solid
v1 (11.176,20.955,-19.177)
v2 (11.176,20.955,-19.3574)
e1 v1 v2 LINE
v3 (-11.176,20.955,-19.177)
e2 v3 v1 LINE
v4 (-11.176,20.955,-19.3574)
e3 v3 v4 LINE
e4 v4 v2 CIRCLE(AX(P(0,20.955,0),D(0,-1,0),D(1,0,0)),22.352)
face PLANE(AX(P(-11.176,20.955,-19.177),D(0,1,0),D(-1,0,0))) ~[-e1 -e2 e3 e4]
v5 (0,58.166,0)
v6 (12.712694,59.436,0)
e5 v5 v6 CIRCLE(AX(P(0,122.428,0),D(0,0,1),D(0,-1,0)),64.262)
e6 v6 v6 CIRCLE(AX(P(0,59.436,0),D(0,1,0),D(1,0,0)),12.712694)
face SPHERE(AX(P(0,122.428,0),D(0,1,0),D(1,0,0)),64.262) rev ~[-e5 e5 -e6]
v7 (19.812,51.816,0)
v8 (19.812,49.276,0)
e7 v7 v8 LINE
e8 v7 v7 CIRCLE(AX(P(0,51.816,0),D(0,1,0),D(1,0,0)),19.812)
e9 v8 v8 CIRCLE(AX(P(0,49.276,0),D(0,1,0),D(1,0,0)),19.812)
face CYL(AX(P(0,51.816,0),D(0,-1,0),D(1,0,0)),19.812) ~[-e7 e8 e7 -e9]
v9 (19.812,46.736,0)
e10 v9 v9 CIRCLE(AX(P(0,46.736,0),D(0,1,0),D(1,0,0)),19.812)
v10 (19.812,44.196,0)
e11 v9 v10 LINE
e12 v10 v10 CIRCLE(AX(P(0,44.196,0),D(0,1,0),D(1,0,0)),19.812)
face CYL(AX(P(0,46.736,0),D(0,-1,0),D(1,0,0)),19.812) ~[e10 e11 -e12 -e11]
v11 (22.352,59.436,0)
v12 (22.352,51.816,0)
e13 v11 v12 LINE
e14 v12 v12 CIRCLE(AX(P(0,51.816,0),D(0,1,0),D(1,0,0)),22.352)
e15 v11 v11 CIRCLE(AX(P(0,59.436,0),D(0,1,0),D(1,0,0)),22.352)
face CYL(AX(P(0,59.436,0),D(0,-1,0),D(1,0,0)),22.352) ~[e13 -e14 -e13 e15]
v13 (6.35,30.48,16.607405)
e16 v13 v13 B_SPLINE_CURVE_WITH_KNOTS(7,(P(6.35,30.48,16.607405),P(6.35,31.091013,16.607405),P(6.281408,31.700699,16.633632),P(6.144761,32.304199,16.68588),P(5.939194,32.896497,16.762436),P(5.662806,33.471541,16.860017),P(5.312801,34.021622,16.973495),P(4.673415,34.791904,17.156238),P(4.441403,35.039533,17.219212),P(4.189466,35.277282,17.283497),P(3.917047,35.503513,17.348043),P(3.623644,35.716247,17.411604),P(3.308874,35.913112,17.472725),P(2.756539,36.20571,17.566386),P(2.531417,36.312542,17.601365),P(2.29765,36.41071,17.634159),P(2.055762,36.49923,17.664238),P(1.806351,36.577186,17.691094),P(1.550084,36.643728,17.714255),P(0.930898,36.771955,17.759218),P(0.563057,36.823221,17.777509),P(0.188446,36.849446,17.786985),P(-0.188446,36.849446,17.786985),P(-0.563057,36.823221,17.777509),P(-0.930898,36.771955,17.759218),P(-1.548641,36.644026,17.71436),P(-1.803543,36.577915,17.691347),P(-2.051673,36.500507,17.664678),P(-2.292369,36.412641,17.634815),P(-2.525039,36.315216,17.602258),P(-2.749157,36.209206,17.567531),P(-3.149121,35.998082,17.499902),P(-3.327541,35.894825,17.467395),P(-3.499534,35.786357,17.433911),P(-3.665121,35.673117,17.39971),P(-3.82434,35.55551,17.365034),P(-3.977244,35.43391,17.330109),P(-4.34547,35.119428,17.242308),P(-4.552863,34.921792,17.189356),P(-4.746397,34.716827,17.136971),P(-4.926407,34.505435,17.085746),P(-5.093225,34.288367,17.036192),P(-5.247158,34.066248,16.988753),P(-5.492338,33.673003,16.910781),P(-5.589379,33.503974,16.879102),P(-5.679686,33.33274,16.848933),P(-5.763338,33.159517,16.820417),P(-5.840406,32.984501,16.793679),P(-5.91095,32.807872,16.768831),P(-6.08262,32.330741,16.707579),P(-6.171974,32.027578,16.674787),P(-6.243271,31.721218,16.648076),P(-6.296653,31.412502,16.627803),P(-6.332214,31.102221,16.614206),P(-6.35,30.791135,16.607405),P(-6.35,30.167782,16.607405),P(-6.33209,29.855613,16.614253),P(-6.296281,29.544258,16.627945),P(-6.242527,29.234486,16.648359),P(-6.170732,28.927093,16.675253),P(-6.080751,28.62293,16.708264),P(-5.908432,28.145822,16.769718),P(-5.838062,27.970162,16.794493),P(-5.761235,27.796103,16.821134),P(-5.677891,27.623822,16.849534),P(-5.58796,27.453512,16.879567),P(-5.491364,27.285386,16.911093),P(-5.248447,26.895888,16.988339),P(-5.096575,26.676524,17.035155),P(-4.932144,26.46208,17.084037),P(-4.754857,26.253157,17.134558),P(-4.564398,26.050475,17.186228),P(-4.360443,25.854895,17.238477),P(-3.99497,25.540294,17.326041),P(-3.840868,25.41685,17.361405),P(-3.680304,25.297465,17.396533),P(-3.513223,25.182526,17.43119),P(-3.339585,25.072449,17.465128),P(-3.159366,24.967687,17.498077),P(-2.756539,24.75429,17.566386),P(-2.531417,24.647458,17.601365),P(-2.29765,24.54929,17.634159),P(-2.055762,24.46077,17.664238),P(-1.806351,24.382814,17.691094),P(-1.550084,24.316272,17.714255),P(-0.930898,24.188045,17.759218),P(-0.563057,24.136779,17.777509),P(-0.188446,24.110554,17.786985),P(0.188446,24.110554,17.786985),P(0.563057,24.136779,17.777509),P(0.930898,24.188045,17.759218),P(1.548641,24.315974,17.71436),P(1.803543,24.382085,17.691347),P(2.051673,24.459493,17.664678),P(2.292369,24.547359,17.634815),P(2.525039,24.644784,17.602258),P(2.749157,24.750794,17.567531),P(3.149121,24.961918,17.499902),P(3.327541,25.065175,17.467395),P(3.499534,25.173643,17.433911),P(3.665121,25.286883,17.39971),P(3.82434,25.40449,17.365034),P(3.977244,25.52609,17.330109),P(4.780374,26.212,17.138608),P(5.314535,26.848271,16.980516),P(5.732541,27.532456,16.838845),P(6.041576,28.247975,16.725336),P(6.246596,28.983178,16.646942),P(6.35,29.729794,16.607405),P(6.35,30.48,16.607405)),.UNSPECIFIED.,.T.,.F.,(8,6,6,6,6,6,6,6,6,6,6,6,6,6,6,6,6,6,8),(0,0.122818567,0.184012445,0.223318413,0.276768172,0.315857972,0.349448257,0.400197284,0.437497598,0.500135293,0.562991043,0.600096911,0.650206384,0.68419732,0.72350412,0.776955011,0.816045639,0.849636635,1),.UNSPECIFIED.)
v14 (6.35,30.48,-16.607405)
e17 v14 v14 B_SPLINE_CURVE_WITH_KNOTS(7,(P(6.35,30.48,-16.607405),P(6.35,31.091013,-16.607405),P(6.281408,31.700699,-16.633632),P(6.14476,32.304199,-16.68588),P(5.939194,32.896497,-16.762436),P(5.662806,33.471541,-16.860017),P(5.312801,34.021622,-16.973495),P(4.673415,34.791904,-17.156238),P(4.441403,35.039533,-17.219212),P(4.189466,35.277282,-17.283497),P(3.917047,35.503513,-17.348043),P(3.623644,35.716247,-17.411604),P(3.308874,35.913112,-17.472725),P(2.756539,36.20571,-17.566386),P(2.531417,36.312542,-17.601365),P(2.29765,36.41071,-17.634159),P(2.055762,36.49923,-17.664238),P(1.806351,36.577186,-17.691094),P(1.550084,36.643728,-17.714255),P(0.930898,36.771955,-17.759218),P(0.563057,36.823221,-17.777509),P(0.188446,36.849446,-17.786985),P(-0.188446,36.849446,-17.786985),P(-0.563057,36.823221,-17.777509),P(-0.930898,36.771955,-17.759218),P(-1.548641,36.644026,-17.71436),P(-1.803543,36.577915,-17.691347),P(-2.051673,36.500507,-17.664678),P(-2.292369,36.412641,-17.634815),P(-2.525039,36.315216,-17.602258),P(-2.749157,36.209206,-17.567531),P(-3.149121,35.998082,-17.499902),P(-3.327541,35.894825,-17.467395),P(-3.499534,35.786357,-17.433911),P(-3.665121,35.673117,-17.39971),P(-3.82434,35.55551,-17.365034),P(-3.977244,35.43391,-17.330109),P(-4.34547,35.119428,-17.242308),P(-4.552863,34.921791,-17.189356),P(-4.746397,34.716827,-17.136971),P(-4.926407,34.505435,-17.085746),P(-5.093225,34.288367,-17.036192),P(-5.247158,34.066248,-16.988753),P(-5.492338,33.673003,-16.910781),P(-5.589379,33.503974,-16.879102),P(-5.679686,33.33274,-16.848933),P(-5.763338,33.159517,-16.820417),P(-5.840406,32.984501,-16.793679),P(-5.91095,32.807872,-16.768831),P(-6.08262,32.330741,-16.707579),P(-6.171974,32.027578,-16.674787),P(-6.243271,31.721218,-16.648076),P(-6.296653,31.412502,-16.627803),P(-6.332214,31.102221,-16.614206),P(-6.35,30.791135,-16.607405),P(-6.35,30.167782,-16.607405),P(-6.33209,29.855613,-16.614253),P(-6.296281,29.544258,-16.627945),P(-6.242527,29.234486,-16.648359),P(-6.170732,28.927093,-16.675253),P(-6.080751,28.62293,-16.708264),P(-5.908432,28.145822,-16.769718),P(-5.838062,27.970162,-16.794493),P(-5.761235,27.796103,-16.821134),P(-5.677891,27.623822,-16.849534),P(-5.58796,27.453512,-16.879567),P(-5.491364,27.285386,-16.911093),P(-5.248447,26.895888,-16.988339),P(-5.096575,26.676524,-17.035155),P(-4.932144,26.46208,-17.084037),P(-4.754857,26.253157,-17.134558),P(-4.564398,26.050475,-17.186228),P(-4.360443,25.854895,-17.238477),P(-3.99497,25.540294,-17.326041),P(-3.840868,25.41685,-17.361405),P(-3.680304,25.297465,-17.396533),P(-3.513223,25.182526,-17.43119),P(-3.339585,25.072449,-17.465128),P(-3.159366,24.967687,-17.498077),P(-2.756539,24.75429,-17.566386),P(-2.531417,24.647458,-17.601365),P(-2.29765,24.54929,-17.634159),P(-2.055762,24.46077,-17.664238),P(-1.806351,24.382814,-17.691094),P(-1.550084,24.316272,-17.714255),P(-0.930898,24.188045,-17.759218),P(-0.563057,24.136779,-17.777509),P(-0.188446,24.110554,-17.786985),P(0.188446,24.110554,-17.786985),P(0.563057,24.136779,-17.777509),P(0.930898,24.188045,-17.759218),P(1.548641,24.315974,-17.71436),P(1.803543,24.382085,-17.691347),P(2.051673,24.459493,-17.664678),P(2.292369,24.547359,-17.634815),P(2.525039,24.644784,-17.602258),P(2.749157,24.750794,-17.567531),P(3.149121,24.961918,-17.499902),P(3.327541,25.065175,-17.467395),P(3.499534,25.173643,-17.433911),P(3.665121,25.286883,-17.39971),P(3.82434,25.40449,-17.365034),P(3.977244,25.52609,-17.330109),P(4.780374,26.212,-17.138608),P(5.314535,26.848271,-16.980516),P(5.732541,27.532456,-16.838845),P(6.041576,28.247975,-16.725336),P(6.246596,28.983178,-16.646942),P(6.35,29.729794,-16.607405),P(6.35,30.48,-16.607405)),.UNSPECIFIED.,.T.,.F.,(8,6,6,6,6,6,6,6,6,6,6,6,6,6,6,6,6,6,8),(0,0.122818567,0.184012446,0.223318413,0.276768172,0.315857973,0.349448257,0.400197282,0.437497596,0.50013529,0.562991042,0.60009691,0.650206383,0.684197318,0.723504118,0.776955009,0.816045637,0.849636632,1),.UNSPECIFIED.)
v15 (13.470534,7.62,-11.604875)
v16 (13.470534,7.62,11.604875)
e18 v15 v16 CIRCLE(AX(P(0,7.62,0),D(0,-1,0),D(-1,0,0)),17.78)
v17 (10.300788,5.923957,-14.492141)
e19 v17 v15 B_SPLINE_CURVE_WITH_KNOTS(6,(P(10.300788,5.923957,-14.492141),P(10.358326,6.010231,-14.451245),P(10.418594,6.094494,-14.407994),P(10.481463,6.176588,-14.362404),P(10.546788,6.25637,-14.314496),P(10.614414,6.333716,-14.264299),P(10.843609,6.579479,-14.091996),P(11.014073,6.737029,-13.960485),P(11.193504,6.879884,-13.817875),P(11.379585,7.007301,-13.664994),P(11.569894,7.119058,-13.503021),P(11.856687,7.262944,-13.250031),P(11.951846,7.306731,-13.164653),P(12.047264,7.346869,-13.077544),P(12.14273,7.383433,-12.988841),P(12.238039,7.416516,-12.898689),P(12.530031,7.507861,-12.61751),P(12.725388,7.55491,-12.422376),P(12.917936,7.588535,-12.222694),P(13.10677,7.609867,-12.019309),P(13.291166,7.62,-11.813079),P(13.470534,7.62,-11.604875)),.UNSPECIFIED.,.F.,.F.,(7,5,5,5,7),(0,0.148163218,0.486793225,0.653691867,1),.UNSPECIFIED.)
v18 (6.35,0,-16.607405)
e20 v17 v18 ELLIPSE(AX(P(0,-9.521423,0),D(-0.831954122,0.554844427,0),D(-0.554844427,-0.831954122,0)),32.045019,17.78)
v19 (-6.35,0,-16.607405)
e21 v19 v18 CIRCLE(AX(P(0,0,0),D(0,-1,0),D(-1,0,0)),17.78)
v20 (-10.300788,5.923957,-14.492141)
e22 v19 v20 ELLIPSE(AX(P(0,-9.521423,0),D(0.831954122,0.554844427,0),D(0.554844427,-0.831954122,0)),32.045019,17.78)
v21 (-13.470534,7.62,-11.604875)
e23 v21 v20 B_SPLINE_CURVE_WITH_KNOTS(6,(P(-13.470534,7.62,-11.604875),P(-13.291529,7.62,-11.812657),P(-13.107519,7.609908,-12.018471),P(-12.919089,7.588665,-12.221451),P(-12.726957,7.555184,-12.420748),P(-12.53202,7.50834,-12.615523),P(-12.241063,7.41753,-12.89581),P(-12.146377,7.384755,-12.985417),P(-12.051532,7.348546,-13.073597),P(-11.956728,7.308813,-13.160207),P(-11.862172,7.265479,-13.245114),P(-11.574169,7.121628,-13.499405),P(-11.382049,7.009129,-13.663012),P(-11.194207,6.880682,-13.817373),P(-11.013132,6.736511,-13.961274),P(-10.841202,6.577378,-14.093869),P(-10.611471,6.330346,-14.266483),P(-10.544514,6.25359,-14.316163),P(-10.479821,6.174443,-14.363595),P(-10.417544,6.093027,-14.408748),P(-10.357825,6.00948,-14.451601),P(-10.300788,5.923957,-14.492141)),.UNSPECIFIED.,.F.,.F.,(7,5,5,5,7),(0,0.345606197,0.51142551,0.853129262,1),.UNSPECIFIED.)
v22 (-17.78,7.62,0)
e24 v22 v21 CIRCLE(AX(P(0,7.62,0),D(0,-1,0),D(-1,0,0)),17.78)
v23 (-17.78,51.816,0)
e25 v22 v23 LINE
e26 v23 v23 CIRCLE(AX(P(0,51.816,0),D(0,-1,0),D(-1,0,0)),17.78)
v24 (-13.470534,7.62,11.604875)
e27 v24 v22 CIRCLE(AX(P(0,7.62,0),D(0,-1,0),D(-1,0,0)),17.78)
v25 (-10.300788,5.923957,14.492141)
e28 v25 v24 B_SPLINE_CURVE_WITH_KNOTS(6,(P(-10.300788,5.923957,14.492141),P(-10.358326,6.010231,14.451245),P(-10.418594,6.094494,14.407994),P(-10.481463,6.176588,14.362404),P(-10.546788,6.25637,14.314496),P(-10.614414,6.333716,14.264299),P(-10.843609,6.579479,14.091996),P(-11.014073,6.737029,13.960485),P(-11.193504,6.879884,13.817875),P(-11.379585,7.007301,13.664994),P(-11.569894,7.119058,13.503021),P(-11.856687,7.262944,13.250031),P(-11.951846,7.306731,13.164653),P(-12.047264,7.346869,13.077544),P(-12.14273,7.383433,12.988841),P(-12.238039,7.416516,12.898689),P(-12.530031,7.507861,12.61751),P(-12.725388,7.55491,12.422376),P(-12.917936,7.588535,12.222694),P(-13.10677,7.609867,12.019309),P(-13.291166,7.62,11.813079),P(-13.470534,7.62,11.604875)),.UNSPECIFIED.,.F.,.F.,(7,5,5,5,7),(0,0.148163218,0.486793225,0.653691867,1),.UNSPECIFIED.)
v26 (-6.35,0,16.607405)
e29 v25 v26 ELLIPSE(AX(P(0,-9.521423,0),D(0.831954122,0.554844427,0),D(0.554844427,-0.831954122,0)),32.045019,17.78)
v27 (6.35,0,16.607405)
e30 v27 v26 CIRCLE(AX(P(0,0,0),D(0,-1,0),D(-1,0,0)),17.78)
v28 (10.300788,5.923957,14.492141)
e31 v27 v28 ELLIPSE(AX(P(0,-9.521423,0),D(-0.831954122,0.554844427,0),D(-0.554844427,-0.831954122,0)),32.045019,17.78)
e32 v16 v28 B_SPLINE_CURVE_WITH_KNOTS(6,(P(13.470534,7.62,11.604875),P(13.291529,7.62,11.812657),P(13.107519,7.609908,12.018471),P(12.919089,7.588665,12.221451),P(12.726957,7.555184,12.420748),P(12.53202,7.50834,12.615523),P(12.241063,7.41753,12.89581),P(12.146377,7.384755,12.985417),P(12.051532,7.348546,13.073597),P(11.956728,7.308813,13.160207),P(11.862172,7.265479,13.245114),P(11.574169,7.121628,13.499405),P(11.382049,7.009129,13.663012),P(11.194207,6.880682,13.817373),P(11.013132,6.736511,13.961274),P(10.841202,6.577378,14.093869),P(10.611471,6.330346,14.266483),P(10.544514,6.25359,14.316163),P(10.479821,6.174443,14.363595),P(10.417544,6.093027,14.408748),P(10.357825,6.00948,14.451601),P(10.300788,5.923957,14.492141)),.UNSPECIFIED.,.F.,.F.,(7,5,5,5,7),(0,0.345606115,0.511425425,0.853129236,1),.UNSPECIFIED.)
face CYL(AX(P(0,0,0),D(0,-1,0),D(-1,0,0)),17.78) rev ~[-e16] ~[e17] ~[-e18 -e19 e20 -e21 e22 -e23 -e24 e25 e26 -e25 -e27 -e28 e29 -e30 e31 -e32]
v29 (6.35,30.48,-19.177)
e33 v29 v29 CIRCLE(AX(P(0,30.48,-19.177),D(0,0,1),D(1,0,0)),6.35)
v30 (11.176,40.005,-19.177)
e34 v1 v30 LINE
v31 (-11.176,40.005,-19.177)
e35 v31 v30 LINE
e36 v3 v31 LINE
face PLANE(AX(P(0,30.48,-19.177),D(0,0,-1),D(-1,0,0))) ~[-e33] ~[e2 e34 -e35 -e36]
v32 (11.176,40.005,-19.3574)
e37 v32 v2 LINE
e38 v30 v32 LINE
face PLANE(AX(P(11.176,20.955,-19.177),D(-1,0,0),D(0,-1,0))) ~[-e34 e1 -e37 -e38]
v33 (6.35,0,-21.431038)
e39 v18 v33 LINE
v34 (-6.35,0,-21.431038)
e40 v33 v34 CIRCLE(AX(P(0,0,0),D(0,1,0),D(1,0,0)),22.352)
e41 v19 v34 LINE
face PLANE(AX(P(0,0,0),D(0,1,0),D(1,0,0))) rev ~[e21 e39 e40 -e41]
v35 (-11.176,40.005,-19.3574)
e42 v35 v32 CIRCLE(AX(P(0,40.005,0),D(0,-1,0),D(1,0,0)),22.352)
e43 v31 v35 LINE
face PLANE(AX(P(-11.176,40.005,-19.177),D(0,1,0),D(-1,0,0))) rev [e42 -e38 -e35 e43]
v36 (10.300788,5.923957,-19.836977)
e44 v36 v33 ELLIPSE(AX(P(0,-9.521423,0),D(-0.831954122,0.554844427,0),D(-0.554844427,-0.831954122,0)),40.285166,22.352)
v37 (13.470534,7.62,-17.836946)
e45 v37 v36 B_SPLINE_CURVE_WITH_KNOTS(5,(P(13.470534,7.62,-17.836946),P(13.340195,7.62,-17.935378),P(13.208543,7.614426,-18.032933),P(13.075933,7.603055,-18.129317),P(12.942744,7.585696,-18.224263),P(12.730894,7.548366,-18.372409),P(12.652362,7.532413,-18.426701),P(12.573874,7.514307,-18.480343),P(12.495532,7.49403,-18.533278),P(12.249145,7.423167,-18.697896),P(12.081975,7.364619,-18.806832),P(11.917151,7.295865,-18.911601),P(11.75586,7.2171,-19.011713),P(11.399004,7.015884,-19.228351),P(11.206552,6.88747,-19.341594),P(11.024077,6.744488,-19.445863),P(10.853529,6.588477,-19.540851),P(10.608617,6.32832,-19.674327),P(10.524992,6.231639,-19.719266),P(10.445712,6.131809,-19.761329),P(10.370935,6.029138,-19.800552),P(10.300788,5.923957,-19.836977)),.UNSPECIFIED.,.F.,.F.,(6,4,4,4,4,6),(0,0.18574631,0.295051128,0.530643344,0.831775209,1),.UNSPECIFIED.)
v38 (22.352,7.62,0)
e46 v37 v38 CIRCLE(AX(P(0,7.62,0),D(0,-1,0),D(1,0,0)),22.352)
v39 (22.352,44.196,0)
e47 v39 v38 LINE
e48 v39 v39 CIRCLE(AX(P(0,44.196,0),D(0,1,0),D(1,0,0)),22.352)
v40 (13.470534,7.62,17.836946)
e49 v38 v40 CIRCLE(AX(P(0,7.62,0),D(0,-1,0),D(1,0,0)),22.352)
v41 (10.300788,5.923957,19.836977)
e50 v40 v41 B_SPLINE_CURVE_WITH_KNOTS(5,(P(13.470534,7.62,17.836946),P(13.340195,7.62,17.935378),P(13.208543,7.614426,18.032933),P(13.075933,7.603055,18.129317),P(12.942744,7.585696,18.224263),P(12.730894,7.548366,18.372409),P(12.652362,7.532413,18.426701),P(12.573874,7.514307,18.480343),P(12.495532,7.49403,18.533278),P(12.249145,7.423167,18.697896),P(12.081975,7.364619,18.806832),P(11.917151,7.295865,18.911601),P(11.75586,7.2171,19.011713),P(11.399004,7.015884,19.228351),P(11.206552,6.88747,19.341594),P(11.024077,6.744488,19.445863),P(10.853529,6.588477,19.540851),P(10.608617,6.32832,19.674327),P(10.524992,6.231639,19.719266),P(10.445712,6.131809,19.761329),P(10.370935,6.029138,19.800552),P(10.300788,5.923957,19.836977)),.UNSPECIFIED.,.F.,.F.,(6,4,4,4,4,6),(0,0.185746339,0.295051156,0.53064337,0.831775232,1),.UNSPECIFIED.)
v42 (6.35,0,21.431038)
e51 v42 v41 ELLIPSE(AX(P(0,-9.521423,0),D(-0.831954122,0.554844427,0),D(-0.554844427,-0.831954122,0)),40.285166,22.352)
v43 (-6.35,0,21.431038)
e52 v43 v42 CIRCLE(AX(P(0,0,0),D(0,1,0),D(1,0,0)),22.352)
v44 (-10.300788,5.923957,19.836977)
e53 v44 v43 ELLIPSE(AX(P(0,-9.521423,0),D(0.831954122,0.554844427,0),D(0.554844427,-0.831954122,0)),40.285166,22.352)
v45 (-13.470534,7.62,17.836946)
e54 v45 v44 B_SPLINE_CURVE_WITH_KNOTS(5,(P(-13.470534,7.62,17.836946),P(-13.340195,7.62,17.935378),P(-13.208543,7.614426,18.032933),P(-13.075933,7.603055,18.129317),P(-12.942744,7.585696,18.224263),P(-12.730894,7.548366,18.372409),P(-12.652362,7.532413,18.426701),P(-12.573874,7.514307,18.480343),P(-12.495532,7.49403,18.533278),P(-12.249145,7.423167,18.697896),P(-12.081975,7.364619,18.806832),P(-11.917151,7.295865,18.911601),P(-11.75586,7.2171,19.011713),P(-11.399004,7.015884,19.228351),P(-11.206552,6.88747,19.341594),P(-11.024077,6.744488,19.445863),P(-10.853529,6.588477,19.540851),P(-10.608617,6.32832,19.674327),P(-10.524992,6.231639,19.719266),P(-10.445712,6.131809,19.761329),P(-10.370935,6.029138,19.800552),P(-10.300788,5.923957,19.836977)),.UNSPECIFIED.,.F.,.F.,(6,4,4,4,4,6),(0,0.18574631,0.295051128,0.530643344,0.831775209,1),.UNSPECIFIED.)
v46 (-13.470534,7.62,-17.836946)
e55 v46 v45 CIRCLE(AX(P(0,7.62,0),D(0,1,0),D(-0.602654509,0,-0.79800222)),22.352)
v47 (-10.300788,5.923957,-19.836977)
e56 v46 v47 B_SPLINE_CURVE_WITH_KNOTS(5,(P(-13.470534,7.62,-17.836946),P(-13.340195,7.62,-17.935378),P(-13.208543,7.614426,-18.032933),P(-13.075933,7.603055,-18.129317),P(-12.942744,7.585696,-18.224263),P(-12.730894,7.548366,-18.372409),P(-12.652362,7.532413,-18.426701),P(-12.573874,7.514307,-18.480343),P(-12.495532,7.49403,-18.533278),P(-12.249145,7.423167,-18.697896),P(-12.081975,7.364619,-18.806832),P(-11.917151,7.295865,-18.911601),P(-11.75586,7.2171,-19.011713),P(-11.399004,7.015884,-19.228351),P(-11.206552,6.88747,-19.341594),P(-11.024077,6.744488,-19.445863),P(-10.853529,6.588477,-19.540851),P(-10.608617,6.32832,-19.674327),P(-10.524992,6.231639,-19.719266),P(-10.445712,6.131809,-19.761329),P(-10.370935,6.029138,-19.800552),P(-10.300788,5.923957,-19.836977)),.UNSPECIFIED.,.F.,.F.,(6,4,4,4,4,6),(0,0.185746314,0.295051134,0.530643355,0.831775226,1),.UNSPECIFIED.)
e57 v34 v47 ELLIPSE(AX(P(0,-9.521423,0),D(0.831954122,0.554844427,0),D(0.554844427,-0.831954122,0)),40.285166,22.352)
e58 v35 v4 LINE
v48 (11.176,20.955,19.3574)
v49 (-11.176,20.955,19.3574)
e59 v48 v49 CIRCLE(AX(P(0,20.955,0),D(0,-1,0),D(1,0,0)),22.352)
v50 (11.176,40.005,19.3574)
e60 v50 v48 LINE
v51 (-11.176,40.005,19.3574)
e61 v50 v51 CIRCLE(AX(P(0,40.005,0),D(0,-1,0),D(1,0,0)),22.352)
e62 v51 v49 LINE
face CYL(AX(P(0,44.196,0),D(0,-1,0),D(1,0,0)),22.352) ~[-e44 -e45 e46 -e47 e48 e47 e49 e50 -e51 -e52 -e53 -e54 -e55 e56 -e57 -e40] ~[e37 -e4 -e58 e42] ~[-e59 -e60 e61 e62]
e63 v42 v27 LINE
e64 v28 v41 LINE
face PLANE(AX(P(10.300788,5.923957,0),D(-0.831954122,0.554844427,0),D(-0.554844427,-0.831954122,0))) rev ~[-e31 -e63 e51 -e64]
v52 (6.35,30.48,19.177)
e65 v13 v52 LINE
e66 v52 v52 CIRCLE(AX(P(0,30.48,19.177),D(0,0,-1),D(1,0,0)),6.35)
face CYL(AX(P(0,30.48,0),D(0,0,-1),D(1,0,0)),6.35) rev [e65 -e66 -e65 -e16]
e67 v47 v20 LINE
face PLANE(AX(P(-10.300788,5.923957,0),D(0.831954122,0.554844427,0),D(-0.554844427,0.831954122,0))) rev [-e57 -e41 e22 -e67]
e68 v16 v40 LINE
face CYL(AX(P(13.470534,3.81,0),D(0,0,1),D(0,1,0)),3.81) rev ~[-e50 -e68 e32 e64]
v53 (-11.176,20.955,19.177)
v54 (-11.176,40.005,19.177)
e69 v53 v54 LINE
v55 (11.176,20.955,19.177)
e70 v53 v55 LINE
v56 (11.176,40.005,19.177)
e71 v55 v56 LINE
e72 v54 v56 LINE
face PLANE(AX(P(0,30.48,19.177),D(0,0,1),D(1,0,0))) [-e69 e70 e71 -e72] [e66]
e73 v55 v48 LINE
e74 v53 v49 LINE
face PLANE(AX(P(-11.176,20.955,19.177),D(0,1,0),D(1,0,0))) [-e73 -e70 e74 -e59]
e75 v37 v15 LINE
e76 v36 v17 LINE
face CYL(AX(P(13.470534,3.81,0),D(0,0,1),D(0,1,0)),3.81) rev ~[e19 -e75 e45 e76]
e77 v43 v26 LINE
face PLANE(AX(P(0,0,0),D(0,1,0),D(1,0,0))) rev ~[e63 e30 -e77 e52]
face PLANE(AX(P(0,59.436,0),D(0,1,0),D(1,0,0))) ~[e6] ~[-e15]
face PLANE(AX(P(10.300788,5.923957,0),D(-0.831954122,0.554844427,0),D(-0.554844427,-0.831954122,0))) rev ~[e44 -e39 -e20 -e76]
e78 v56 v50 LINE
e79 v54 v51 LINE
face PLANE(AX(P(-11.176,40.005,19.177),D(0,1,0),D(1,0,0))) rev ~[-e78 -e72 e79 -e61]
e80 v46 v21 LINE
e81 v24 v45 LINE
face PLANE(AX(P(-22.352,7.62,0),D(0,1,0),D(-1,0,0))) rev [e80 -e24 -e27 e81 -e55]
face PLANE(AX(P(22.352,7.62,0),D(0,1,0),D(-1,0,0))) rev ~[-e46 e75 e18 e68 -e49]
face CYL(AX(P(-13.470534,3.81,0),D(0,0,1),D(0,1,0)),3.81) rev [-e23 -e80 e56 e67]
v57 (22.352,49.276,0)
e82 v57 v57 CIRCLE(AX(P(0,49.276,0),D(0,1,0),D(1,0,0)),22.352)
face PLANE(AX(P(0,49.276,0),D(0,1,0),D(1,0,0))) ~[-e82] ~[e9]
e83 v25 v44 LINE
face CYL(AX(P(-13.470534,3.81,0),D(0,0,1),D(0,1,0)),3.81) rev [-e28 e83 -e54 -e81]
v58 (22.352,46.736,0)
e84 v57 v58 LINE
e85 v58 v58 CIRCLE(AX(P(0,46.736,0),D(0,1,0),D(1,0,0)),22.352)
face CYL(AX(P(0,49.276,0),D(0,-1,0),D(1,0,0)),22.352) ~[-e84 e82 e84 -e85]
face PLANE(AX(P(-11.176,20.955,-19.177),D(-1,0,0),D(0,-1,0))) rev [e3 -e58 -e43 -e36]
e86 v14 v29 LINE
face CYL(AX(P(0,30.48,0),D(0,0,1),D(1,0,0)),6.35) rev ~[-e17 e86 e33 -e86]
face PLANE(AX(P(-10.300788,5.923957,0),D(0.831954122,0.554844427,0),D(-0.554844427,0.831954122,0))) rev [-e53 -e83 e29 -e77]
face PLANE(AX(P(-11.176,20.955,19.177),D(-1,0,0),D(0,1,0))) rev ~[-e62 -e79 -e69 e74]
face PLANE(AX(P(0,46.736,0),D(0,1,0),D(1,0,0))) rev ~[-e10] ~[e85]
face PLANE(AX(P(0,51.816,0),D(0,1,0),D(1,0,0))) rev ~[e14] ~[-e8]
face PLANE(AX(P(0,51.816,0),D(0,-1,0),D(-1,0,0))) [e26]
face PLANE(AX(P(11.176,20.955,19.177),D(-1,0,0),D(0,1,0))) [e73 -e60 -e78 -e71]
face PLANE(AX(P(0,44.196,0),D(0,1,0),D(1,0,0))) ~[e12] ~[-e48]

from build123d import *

# Parameters (mm, degrees)
SKETCH3_R               = 17.78
CUT_EXTRUDE2_DEPTH      = 51.816
SKETCH4_R               = 6.35
CUT_EXTRUDE3_DEPTH      = 23.352
CUT_EXTRUDE3_DEPTH_BACK = 23.352
CUT_EXTRUDE5_START      = 19.177
SKETCH5_W               = 22.352
SKETCH5_H               = 19.05
CUT_EXTRUDE5_DEPTH      = 4.1750001
CUT_EXTRUDE6_DEPTH      = 23.352


with BuildPart() as part:
    # Sketch1 → Revolve2 (revolve)
    with BuildSketch(Plane.XY):
        with BuildLine():
            Line((0, 0), (0, 58.166))
            ThreePointArc((0, 58.166), (6.387986381, 58.484288237), (12.712693656, 59.436))
            Line((12.712693656, 59.436), (22.352, 59.436))
            Line((22.352, 59.436), (22.352, 51.816))
            Line((22.352, 51.816), (19.812, 51.816))
            Line((19.812, 51.816), (19.812, 49.276))
            Line((19.812, 49.276), (22.352, 49.276))
            Line((22.352, 49.276), (22.352, 46.736))
            Line((22.352, 46.736), (19.812, 46.736))
            Line((19.812, 46.736), (19.812, 44.196))
            Line((19.812, 44.196), (22.352, 44.196))
            Line((22.352, 44.196), (22.352, 0))
            Line((22.352, 0), (0, 0))
        make_face()
    revolve(axis=Axis((0, 0, 0), (0, 1, 0)))

    # Sketch3 → Cut-Extrude2 (cut)
    with BuildSketch(Plane(origin=(0, 0, 0), x_dir=(-1, 0, 0), z_dir=(0, -1, 0))):
        Circle(SKETCH3_R)
    extrude(amount=-CUT_EXTRUDE2_DEPTH, mode=Mode.SUBTRACT)

    # Sketch4 → Cut-Extrude3 (cut, two sides)
    with BuildSketch(Plane.XY) as cut_extrude3_sk:
        with Locations((0, 30.48)):
            Circle(SKETCH4_R)
    extrude(amount=CUT_EXTRUDE3_DEPTH, mode=Mode.SUBTRACT)
    extrude(cut_extrude3_sk.sketch, amount=-CUT_EXTRUDE3_DEPTH_BACK, mode=Mode.SUBTRACT)

    # Sketch5 → Cut-Extrude5 (cut, through all)
    with BuildSketch(Plane.XY.offset(CUT_EXTRUDE5_START)):
        with Locations((0, 30.48)):
            Rectangle(SKETCH5_W, SKETCH5_H)
    cut_extrude5 = extrude(amount=CUT_EXTRUDE5_DEPTH, mode=Mode.SUBTRACT)

    # Mirror1: Cut-Extrude5 across plane
    add(cut_extrude5.mirror(Plane.XY), mode=Mode.SUBTRACT)

    # Sketch6 → Cut-Extrude6 (cut, symmetric)
    with BuildSketch(Plane.XY):
        with BuildLine():
            Line((22.352, 7.62), (13.470533586, 7.62))
            ThreePointArc((13.470533586, 7.62), (11.673046061, 7.169336035), (10.300788381, 5.923957269))
            Line((10.300788381, 5.923957269), (6.35, 0))
            Line((6.35, 0), (22.352, 0))
            Line((22.352, 0), (22.352, 7.62))
        make_face()
    cut_extrude6 = extrude(amount=CUT_EXTRUDE6_DEPTH, both=True, mode=Mode.SUBTRACT)

    # Mirror2: Cut-Extrude6 across plane
    add(cut_extrude6.mirror(Plane(origin=(0, 0, 0), x_dir=(0, 0, 1), z_dir=(1, 0, 0))), mode=Mode.SUBTRACT)


solid = part.part
